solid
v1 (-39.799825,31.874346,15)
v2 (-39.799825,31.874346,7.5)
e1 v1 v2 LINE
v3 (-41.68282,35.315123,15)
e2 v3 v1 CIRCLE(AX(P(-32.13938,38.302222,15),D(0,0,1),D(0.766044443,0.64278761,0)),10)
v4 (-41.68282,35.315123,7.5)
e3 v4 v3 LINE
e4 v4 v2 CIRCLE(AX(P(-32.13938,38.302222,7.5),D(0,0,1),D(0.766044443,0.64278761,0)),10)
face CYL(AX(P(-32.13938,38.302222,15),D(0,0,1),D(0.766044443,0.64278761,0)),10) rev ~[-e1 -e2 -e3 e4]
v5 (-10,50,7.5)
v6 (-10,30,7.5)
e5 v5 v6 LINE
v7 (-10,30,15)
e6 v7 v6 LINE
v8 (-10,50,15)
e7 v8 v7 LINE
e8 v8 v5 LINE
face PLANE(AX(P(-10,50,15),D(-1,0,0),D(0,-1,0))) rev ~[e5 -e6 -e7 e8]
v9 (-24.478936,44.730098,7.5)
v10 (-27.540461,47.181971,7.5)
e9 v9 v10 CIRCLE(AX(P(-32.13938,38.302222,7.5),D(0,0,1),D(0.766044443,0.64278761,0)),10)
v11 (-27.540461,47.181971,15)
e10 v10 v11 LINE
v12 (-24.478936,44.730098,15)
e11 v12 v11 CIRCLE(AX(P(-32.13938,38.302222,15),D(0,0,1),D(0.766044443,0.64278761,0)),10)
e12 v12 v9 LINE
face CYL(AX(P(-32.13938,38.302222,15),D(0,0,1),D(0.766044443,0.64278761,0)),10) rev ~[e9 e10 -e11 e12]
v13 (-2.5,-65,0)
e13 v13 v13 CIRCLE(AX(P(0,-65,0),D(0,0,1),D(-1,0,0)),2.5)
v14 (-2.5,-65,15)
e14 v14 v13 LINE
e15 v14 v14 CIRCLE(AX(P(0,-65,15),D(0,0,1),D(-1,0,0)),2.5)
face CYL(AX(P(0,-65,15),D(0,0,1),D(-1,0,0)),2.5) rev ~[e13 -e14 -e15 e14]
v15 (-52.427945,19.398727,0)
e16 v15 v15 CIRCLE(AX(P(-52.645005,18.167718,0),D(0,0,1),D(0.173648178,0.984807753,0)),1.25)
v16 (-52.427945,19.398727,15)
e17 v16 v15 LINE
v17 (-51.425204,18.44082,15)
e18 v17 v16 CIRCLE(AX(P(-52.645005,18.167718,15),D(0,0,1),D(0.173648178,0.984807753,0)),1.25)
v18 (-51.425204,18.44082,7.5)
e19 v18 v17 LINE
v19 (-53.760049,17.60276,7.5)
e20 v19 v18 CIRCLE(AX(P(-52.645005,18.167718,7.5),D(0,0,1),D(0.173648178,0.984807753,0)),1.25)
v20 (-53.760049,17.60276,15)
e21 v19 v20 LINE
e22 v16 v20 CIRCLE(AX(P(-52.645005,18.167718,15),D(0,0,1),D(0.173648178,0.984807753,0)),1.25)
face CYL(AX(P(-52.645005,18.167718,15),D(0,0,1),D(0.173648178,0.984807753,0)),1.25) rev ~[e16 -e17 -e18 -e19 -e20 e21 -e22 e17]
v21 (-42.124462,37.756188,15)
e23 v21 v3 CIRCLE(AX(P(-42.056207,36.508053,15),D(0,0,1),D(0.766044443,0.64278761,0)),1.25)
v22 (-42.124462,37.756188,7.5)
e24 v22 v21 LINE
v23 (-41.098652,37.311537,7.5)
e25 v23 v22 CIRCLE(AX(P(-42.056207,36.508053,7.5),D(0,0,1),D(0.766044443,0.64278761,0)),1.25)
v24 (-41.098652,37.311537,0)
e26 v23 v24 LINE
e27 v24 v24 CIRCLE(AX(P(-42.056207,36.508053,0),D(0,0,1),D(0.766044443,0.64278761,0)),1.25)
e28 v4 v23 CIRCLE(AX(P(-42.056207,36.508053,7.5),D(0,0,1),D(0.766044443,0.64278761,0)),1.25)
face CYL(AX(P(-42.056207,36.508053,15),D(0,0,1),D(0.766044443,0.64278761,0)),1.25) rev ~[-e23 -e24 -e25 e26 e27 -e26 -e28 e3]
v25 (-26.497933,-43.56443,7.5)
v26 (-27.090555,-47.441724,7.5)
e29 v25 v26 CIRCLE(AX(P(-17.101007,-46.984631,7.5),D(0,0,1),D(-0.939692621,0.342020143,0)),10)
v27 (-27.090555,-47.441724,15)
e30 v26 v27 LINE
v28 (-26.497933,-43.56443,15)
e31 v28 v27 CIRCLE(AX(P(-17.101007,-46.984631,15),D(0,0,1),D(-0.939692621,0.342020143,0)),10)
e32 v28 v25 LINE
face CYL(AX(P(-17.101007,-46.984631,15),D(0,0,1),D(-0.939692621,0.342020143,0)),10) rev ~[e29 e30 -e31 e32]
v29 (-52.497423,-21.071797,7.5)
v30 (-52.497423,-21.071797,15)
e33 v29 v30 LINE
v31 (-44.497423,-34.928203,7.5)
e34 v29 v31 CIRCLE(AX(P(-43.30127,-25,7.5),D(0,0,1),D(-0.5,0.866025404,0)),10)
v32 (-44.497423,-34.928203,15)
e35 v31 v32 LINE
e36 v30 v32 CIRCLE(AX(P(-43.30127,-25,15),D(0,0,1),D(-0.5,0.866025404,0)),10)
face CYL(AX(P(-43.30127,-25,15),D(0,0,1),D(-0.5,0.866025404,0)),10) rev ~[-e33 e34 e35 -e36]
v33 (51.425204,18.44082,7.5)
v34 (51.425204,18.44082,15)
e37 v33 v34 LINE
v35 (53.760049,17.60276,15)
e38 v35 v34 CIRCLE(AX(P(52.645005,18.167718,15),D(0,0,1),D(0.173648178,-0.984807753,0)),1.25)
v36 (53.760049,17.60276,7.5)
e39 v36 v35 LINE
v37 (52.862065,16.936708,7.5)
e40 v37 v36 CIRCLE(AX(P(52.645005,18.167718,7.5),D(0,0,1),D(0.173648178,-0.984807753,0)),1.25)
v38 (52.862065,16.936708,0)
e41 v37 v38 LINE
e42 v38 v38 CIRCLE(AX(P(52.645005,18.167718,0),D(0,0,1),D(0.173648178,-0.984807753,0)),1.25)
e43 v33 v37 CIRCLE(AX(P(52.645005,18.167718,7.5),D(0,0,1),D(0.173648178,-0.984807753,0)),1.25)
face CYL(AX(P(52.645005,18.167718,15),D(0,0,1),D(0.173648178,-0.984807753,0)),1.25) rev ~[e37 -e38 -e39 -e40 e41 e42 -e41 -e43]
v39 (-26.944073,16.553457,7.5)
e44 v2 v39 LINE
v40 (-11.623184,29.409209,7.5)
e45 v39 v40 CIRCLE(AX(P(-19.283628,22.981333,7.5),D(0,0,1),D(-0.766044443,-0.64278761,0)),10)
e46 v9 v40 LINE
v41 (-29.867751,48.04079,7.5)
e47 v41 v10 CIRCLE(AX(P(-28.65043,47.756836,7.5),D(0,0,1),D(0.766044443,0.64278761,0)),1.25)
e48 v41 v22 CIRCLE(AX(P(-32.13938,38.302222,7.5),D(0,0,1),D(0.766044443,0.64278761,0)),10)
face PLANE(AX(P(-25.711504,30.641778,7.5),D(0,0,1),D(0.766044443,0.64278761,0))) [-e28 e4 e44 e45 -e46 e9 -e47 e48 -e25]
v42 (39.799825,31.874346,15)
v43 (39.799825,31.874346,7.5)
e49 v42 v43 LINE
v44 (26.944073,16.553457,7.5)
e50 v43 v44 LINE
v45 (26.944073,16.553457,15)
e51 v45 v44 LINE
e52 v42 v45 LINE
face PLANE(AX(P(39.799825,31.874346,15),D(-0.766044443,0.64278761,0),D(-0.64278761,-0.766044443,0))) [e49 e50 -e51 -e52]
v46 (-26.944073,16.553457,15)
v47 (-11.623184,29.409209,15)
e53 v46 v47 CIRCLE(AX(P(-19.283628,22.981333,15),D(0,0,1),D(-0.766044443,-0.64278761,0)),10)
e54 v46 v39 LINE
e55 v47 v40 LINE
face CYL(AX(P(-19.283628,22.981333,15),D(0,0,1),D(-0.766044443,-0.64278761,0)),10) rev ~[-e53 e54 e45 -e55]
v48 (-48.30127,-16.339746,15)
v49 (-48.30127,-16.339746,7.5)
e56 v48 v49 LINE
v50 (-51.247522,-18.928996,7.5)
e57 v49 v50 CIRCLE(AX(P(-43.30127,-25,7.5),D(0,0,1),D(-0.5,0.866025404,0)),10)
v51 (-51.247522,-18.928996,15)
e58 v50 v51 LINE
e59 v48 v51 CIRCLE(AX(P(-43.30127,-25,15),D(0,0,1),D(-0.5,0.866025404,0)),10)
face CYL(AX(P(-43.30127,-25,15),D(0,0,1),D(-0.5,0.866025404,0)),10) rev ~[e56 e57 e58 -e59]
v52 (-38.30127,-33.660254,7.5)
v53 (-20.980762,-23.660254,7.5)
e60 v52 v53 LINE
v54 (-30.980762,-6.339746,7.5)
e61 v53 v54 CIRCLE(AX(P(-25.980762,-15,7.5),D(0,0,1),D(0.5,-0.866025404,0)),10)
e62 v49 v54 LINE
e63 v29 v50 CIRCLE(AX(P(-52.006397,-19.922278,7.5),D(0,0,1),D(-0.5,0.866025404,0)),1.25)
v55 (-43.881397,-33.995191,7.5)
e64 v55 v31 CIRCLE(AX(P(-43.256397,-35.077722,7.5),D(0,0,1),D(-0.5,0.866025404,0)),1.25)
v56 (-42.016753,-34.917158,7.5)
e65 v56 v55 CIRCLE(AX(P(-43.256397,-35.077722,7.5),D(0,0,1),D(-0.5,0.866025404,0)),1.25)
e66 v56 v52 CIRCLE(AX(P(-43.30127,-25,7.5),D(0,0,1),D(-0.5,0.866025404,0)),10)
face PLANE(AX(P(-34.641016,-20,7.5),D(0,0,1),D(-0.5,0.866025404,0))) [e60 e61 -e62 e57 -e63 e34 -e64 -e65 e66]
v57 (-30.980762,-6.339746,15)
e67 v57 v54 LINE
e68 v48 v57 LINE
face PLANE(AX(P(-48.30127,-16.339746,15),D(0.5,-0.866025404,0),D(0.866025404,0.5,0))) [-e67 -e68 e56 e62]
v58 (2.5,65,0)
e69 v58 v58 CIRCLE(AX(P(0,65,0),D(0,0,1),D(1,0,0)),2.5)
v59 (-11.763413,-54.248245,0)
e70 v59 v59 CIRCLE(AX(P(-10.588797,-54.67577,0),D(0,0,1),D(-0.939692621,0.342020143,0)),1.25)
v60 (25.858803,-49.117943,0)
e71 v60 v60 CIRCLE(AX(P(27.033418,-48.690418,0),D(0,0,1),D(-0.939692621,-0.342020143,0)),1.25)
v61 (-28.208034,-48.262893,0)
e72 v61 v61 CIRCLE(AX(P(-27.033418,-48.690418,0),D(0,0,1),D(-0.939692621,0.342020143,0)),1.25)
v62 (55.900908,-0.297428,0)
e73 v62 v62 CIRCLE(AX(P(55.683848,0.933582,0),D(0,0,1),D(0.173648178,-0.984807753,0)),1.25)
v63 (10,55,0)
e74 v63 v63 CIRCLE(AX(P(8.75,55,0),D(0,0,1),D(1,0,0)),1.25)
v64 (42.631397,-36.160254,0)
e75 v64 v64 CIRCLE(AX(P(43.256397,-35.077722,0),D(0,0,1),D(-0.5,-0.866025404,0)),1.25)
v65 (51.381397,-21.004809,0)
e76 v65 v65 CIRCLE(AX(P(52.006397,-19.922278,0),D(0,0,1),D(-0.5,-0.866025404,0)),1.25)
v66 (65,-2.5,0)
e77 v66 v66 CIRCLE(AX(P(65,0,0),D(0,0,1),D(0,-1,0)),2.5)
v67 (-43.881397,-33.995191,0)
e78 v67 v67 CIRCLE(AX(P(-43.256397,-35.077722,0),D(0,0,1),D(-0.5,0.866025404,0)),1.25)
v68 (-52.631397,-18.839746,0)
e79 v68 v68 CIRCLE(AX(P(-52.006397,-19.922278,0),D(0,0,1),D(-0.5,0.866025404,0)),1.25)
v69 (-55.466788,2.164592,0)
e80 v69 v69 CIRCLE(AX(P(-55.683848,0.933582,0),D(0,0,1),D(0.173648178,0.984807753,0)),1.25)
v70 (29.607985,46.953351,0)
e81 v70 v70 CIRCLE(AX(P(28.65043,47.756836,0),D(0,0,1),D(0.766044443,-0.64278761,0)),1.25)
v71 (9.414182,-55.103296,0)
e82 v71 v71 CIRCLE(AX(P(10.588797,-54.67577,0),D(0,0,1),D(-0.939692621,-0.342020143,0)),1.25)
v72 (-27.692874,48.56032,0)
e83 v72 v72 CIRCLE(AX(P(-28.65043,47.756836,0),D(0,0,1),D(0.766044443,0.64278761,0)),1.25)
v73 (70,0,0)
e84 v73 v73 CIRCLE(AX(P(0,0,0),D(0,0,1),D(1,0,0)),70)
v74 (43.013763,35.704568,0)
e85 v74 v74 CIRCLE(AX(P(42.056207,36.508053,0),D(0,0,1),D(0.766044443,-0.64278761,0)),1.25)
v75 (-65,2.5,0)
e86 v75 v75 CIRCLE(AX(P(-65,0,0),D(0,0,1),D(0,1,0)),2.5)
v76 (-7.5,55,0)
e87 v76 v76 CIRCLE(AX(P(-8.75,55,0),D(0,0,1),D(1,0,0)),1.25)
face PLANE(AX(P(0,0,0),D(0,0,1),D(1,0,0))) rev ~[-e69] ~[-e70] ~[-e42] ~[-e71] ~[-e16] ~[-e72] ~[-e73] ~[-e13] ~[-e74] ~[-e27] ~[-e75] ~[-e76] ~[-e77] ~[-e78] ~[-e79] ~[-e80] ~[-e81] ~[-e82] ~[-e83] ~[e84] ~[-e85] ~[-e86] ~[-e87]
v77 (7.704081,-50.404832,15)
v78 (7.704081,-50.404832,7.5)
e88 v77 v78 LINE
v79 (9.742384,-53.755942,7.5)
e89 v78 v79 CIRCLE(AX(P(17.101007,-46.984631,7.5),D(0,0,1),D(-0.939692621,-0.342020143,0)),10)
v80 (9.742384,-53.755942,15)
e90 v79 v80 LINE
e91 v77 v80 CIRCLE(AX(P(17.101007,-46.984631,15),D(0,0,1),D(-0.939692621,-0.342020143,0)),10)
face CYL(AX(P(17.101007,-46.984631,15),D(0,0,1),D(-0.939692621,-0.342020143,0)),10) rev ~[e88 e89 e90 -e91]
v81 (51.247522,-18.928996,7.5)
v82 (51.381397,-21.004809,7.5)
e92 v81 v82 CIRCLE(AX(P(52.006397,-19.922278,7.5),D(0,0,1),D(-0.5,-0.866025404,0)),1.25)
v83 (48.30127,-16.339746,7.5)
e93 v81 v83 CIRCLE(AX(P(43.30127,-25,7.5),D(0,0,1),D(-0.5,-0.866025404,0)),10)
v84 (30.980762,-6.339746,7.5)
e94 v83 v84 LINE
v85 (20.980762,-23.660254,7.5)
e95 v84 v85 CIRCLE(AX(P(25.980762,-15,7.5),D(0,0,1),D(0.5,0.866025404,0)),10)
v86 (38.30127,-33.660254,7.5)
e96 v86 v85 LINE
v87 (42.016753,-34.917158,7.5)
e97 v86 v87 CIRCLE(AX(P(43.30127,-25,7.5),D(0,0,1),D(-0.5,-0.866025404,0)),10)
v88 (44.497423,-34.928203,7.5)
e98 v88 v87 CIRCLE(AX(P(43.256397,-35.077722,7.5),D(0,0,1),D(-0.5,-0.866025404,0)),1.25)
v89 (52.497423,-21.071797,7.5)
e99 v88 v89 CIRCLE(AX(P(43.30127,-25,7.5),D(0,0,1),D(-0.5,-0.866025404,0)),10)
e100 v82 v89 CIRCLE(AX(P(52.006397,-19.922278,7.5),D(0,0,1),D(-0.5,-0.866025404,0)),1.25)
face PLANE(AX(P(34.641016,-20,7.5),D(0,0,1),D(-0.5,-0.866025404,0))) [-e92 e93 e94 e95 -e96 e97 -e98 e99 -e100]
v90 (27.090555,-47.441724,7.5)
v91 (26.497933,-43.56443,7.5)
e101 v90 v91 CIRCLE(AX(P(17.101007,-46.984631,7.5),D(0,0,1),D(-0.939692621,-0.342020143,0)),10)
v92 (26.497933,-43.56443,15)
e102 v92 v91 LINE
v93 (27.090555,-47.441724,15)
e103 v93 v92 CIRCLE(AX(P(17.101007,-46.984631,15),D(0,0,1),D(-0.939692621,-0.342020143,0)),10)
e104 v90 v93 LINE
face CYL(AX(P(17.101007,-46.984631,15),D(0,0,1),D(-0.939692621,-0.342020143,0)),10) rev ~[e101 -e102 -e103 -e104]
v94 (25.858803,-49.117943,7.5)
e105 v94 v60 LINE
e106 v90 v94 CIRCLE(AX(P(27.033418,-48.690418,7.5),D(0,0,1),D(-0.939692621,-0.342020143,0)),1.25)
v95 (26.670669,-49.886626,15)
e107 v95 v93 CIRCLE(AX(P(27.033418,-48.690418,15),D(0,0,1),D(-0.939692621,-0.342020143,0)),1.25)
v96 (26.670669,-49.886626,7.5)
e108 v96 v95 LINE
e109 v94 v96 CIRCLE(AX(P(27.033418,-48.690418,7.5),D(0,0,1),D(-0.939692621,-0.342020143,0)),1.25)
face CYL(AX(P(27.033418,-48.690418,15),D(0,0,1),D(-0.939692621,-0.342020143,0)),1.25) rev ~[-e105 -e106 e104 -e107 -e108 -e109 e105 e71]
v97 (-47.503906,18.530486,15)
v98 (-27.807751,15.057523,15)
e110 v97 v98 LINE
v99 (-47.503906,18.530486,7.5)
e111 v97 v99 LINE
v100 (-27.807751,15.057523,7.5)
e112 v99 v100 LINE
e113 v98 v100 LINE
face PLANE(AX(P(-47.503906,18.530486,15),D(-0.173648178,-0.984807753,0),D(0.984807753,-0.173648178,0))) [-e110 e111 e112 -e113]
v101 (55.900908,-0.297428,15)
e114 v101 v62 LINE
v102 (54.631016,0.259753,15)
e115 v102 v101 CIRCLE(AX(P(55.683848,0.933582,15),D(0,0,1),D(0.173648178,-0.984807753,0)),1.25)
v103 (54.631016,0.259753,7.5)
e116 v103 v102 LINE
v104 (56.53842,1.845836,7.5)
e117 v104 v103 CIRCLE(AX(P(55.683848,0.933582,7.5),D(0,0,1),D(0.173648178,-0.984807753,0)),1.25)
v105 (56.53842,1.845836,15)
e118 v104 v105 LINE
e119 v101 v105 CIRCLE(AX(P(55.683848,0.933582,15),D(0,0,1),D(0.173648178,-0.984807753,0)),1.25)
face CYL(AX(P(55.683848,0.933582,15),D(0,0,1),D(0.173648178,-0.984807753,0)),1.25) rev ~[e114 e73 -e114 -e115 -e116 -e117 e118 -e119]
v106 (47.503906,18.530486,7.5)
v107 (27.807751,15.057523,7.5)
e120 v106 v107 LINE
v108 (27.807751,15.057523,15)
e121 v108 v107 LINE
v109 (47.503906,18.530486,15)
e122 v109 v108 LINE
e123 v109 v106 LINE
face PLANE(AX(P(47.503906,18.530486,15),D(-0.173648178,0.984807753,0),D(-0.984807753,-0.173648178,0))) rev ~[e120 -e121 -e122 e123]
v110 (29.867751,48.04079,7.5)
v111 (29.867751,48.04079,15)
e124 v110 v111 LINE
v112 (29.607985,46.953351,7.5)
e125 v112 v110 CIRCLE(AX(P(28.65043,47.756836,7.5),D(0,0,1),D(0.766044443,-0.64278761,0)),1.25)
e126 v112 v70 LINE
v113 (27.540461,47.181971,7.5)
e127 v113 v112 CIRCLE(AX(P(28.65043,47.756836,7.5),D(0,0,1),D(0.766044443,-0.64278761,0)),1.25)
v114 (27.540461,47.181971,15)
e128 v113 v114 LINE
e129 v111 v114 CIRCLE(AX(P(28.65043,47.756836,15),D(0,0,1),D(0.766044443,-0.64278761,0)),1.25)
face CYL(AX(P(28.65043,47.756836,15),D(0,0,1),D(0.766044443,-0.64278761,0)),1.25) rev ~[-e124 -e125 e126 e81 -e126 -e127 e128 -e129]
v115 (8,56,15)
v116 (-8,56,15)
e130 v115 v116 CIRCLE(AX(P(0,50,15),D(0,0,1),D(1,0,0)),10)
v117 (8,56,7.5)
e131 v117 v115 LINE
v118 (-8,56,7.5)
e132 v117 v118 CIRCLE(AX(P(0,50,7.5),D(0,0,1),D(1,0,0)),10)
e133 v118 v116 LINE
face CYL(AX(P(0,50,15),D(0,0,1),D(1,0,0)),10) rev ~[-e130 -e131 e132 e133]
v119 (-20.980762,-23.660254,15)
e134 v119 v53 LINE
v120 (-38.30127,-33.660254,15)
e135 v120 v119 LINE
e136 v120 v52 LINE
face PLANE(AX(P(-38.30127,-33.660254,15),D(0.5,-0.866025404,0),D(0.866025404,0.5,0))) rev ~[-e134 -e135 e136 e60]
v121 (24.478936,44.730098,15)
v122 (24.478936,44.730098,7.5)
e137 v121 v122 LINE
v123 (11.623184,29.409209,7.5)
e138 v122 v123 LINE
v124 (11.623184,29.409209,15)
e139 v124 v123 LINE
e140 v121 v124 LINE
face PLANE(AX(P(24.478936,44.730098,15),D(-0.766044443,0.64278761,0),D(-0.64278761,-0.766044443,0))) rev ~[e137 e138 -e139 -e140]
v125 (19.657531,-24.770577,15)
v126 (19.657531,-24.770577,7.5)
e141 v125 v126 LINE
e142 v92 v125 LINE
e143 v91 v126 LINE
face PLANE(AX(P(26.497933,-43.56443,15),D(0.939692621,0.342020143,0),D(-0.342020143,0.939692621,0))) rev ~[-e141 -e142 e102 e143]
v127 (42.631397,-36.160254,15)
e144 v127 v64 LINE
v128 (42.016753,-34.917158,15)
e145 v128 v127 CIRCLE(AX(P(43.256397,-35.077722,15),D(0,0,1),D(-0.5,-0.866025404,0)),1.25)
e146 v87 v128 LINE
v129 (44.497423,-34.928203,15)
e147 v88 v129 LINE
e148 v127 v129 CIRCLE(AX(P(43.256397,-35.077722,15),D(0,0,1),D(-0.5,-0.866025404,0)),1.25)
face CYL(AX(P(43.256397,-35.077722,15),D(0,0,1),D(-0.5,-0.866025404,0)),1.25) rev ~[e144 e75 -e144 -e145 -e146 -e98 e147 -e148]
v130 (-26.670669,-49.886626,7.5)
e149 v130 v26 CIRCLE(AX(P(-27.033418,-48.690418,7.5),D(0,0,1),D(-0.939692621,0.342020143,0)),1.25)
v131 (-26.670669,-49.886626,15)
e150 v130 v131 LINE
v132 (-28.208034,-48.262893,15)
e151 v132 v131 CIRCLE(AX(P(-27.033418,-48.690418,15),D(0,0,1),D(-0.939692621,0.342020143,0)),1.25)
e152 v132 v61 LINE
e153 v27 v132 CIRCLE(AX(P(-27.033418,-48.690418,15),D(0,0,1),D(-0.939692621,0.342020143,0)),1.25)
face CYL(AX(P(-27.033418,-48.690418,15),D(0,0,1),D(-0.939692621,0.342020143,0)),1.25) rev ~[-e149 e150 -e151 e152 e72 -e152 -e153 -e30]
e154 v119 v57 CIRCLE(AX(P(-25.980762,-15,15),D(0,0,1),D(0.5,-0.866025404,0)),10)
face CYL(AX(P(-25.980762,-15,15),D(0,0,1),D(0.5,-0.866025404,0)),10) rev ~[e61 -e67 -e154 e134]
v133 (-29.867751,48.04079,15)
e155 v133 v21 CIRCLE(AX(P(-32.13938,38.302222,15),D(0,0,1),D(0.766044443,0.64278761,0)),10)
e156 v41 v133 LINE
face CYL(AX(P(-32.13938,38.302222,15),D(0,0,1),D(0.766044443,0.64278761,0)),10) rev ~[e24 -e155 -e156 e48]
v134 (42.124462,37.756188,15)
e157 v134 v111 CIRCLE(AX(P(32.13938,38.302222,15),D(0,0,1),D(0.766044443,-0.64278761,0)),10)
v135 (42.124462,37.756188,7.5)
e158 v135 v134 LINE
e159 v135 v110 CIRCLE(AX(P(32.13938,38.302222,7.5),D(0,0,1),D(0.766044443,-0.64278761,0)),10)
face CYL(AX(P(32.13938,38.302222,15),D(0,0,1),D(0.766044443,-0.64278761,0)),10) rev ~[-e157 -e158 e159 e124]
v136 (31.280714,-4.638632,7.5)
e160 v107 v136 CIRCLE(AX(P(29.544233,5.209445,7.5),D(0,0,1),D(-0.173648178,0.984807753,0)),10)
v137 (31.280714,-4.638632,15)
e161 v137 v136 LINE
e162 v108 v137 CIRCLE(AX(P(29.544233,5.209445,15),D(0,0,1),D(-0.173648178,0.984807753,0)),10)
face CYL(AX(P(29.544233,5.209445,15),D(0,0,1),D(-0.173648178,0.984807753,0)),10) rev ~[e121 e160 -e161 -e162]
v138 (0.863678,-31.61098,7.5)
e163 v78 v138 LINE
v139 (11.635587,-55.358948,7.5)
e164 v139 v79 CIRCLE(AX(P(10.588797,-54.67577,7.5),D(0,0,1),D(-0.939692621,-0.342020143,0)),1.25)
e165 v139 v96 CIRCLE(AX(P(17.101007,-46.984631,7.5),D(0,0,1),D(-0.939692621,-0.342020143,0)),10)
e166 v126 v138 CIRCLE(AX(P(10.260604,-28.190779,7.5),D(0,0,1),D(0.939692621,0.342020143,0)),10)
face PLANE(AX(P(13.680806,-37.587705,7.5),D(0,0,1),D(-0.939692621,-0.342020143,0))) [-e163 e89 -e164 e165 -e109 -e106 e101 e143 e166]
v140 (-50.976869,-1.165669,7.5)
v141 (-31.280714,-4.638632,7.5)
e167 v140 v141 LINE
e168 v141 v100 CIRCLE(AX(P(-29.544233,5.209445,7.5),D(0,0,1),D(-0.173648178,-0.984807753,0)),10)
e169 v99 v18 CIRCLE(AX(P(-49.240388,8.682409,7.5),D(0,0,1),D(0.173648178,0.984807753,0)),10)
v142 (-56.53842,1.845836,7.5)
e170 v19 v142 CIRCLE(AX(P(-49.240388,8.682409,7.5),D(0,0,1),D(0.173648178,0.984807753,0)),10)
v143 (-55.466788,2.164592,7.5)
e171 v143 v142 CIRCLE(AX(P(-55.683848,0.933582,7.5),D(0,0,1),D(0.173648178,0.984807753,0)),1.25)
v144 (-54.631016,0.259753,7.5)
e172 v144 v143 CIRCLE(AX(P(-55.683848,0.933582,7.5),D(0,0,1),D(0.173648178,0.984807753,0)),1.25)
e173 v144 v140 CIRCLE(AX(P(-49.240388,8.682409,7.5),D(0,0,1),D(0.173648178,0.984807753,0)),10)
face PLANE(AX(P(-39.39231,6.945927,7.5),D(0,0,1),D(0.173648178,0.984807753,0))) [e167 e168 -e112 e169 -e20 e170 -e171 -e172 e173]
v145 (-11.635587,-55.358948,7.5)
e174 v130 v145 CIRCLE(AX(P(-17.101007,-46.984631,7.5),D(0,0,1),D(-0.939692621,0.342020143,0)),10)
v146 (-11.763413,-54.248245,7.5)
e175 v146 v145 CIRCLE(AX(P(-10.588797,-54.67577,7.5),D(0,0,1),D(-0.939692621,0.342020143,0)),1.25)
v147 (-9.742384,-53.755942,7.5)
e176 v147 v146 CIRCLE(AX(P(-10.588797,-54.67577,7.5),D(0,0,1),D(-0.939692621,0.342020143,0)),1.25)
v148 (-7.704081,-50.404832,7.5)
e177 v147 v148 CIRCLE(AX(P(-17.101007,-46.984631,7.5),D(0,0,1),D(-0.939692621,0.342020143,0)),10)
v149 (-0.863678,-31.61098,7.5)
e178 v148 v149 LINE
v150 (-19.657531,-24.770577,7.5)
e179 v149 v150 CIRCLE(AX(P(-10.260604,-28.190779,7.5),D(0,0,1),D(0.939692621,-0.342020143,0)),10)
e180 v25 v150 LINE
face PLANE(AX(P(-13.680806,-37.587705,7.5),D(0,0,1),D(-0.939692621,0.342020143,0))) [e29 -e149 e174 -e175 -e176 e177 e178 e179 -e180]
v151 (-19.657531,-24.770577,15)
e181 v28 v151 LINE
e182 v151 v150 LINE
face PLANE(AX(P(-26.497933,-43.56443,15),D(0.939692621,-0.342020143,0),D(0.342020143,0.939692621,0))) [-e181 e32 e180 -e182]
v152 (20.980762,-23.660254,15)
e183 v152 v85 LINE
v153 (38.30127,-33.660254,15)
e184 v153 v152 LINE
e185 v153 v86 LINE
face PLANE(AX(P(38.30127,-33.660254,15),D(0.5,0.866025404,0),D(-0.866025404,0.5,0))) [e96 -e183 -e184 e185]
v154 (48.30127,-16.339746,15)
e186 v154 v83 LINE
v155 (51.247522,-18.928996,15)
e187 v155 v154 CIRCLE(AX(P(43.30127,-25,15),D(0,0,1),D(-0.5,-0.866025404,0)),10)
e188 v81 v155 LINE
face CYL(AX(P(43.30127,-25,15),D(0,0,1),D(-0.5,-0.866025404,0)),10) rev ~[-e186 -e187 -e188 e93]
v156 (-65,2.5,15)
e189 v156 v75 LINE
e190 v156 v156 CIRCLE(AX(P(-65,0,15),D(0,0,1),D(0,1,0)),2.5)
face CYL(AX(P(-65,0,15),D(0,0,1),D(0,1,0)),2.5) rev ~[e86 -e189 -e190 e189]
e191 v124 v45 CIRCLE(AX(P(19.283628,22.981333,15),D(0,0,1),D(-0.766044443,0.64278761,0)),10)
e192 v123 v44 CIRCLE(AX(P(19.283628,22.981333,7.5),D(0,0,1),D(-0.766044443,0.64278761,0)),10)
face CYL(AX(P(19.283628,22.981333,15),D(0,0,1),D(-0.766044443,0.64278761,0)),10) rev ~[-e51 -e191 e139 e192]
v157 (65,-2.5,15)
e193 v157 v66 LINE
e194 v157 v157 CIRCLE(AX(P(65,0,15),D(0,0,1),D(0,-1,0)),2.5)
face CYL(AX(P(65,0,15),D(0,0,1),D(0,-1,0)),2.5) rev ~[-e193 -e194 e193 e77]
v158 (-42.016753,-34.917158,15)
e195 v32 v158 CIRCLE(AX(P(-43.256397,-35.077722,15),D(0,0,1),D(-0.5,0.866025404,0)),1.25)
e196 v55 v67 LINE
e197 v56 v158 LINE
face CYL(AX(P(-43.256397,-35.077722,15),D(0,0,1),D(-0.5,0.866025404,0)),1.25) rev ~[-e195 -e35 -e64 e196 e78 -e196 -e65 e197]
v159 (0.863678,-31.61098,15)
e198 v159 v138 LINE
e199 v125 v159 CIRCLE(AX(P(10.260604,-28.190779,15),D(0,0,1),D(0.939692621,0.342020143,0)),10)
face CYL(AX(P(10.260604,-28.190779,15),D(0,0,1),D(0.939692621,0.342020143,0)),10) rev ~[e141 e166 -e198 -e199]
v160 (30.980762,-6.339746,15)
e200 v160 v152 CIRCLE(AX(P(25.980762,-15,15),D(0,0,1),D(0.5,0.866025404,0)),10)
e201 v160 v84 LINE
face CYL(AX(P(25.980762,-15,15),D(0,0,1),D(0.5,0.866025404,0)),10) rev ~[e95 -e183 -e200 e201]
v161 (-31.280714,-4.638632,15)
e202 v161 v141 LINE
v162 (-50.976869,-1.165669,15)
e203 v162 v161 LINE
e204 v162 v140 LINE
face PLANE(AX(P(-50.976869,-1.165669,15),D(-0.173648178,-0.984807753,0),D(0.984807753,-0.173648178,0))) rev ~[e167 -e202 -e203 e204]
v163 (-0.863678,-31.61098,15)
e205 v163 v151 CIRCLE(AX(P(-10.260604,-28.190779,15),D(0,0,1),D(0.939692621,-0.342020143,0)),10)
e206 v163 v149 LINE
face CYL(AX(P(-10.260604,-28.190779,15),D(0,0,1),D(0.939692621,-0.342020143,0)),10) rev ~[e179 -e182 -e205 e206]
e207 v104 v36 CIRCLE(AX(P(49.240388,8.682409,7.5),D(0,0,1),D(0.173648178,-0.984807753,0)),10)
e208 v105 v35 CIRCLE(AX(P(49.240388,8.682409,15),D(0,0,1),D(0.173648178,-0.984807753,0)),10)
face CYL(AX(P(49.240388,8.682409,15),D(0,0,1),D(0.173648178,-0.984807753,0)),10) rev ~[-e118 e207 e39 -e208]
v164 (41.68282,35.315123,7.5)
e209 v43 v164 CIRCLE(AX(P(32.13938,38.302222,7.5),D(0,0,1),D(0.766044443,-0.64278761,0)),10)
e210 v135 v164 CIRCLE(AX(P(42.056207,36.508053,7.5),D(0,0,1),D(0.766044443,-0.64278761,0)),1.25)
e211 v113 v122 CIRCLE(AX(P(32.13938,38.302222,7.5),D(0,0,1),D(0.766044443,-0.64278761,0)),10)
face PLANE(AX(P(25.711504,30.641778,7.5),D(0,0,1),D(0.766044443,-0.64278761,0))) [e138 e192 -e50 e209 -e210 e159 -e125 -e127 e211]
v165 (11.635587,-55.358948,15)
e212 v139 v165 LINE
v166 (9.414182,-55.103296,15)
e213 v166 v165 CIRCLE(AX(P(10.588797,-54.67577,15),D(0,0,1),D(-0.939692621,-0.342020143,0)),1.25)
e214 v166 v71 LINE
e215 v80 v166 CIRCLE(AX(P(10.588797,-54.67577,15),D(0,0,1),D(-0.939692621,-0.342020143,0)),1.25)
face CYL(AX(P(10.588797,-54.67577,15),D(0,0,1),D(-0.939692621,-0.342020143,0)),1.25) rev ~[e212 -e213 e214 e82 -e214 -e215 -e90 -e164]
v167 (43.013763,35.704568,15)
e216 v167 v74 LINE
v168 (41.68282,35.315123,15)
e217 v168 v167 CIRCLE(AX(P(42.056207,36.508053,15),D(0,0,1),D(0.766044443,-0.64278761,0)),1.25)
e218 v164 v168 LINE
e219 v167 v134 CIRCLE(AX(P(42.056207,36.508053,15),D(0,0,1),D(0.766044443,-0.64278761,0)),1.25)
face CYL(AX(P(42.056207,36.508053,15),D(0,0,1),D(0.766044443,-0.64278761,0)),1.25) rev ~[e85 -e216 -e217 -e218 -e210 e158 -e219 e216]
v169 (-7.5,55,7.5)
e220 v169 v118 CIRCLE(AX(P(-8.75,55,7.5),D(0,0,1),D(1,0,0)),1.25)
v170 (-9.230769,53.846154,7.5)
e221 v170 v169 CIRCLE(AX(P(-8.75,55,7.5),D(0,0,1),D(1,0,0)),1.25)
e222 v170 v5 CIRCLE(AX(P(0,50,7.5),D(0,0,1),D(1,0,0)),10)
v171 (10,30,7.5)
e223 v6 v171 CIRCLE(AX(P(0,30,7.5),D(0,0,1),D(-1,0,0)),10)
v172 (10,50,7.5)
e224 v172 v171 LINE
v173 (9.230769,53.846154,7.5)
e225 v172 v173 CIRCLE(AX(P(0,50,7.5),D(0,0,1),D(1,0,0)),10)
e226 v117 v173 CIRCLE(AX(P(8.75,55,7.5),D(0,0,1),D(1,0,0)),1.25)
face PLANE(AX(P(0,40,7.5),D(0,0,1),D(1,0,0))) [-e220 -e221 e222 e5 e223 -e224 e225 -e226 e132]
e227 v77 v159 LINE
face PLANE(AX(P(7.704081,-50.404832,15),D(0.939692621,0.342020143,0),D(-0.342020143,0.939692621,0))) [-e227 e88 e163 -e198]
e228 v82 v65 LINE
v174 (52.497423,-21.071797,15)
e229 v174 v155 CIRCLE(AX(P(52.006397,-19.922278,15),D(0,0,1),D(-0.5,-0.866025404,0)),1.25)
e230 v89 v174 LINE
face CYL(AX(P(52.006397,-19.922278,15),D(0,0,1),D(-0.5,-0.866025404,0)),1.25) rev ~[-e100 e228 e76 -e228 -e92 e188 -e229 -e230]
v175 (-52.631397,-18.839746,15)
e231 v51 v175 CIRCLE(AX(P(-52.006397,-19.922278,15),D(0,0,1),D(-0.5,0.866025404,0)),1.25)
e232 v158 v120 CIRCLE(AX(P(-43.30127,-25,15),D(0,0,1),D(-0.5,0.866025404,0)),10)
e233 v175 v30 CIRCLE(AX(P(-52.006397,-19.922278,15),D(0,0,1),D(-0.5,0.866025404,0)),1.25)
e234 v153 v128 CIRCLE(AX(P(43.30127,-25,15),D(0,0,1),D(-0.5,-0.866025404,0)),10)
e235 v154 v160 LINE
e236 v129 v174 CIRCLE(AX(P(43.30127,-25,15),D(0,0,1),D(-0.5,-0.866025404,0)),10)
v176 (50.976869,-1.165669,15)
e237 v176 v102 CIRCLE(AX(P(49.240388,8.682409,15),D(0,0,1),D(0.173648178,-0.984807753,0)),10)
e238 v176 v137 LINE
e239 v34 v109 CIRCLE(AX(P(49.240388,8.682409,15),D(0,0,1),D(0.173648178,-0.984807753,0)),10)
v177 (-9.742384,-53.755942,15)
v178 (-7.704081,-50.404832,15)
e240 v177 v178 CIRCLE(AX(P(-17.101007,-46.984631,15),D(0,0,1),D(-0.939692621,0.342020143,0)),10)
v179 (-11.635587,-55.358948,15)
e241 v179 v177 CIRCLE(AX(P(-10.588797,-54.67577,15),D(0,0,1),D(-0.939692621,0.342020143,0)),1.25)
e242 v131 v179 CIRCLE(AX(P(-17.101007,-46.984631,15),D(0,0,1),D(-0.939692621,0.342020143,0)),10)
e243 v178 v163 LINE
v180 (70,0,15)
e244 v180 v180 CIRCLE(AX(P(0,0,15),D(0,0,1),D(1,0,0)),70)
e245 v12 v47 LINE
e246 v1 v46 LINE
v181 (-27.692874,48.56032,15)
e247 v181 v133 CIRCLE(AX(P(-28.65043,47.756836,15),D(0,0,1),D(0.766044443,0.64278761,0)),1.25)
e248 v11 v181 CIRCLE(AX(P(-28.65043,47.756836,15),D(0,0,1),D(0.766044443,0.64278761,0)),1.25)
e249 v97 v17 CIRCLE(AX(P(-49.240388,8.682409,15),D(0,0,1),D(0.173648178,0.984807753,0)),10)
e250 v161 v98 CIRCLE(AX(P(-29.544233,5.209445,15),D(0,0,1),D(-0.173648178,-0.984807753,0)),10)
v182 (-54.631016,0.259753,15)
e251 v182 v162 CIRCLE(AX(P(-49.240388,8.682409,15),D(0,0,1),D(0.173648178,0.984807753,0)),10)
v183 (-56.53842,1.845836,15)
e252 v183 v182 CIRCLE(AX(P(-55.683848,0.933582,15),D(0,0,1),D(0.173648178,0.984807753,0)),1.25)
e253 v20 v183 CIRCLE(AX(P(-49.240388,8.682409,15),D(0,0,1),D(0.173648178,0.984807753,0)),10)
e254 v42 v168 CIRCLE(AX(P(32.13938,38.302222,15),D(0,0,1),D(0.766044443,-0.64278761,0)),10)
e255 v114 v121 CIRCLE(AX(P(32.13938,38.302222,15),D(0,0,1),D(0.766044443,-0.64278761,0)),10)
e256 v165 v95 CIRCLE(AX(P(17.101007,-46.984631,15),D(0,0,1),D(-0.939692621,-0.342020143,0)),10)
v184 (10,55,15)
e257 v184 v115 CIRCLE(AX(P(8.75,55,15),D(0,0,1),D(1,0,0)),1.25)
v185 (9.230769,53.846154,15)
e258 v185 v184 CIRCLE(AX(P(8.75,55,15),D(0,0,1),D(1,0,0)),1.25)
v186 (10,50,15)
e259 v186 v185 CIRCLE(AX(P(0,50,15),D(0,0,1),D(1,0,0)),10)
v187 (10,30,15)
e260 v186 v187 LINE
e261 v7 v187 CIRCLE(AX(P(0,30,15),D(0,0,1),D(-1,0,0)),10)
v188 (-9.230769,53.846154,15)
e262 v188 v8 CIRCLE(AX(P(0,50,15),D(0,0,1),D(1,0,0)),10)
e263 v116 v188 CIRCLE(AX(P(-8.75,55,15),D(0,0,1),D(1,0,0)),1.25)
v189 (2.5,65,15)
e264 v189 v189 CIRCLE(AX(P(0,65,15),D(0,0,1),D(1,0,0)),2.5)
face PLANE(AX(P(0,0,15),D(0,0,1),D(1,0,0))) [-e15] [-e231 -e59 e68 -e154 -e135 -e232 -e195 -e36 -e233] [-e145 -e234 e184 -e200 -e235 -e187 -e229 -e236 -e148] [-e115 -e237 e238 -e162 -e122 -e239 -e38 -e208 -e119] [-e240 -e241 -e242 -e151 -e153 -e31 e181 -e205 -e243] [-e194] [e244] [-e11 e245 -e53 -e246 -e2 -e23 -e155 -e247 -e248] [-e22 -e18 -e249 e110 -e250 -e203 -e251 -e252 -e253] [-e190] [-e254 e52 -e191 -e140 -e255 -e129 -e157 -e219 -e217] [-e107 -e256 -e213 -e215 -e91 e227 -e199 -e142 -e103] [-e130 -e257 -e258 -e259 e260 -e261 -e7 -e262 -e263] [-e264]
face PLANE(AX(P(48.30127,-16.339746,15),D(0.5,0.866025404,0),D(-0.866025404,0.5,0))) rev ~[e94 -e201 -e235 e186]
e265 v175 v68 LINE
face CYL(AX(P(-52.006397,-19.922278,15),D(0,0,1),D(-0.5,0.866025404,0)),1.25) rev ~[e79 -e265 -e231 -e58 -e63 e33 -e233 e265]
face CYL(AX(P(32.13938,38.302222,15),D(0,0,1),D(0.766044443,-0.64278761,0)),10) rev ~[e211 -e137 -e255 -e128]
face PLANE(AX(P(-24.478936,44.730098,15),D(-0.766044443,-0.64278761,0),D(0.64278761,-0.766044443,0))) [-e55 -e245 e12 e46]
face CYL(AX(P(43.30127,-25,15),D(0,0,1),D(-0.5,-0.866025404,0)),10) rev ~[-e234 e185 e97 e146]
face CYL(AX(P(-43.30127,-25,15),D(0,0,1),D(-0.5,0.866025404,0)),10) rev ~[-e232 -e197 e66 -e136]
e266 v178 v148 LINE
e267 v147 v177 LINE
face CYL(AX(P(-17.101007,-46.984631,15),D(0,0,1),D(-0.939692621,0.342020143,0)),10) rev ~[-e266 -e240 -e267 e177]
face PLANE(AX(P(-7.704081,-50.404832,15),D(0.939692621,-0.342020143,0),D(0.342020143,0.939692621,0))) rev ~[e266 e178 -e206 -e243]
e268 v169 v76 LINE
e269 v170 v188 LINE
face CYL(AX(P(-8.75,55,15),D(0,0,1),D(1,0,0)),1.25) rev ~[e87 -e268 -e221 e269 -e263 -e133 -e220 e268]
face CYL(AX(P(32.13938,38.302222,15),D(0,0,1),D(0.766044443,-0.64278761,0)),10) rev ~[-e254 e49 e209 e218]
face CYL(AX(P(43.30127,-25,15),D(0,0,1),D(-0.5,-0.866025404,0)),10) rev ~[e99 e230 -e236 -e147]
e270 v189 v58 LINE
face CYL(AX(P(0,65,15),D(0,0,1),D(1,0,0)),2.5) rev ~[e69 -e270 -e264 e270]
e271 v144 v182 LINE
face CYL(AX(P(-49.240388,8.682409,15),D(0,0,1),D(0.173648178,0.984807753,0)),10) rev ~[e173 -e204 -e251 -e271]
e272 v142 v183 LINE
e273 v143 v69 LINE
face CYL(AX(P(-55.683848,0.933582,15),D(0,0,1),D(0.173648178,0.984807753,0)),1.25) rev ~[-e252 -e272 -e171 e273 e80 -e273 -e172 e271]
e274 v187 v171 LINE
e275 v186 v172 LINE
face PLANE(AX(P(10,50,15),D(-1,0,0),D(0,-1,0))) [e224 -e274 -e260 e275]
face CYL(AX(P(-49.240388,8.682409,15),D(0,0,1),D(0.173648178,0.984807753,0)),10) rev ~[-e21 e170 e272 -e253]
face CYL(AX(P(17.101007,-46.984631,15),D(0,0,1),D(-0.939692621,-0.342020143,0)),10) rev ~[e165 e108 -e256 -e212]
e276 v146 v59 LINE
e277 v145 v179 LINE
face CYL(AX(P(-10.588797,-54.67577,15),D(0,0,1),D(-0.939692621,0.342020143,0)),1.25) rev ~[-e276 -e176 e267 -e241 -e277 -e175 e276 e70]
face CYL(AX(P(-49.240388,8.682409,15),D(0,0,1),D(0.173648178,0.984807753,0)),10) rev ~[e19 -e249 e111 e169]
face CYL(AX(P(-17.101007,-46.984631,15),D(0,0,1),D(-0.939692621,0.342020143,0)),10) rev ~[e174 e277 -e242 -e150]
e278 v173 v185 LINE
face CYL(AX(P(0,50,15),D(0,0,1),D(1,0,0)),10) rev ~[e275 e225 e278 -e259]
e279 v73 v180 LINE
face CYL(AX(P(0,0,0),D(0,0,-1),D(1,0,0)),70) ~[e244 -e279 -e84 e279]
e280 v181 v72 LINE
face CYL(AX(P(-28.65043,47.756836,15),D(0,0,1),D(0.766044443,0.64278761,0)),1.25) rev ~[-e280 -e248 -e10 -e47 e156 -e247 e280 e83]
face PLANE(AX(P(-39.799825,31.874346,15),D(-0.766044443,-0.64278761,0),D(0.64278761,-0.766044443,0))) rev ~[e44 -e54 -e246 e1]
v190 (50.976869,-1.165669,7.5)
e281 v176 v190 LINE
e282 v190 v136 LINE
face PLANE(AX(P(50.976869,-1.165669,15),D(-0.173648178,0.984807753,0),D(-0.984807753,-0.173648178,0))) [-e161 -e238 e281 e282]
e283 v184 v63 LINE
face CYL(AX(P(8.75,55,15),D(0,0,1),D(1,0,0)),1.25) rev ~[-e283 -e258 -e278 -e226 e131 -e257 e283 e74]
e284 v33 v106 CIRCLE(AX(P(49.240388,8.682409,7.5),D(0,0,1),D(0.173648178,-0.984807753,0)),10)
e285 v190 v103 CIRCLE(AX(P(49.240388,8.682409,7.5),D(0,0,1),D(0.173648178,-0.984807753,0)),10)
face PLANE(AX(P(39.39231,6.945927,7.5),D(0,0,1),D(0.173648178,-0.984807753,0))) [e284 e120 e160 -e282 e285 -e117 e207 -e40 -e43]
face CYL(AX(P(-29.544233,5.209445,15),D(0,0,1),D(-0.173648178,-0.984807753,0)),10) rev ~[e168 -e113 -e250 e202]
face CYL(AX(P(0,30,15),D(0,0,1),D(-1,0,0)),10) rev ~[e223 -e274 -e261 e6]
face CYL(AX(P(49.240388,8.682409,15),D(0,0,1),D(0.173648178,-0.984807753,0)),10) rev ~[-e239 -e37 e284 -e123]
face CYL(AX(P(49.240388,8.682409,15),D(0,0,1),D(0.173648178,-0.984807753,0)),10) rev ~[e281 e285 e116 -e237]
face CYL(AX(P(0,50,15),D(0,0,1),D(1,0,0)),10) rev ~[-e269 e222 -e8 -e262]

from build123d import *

# Parameters (mm, degrees)
SKETCH_R              = 70
PAD_DEPTH             = 15
POCKET_DEPTH          = 7.5
POLARPATTERN_COUNT    = 9
SKETCH002_R           = 1.25
POCKET001_DEPTH       = 15
POLARPATTERN001_COUNT = 9
SKETCH003_R           = 2.5
POCKET002_DEPTH       = 412.115593
POLARPATTERN002_COUNT = 4


with BuildPart() as part:
    # Sketch (on PolarPattern) → Pad (new body)
    with BuildSketch(Plane.XY):
        Circle(SKETCH_R)
    extrude(amount=PAD_DEPTH)

    # Sketch001 (on Face3 of Pad) → Pocket (cut)
    with BuildSketch(Plane.XY.offset(15)):
        with BuildLine():
            ThreePointArc((10, 50), (0, 60), (-10, 50))
            Line((-10, 50), (-10, 30))
            ThreePointArc((-10, 30), (0, 20), (10, 30))
            Line((10, 50), (10, 30))
        make_face()
    pocket = extrude(amount=-POCKET_DEPTH, mode=Mode.SUBTRACT)

    # PolarPattern: Pocket ×9 about axis
    polarpattern_axis = Axis((0, 0, 15), (0, 0, 1))
    for i in range(1, POLARPATTERN_COUNT):
        add(pocket.rotate(polarpattern_axis, i * 360 / POLARPATTERN_COUNT), mode=Mode.SUBTRACT)

    # Sketch002 (on Face3 of Pad) → Pocket001 (cut)
    with BuildSketch(Plane.XY.offset(15)):
        with Locations((-8.75, 55)):
            Circle(SKETCH002_R)
        with Locations((8.75, 55)):
            Circle(SKETCH002_R)
    pocket001 = extrude(amount=-POCKET001_DEPTH, mode=Mode.SUBTRACT)

    # PolarPattern001: Pocket001 ×9 about axis
    polarpattern001_axis = Axis((0, 0, 15), (0, 0, 1))
    for i in range(1, POLARPATTERN001_COUNT):
        add(pocket001.rotate(polarpattern001_axis, i * 360 / POLARPATTERN001_COUNT), mode=Mode.SUBTRACT)

    # Sketch003 (on Face3 of PolarPattern001) → Pocket002 (cut, through all)
    with BuildSketch(Plane.XY.offset(15)):
        with Locations((0, 65)):
            Circle(SKETCH003_R)
    pocket002 = extrude(amount=-POCKET002_DEPTH, mode=Mode.SUBTRACT)

    # PolarPattern002: Pocket002 ×4 about axis
    polarpattern002_axis = Axis((0, 0, 15), (0, 0, 1))
    for i in range(1, POLARPATTERN002_COUNT):
        add(pocket002.rotate(polarpattern002_axis, i * 360 / POLARPATTERN002_COUNT), mode=Mode.SUBTRACT)


solid = part.part
